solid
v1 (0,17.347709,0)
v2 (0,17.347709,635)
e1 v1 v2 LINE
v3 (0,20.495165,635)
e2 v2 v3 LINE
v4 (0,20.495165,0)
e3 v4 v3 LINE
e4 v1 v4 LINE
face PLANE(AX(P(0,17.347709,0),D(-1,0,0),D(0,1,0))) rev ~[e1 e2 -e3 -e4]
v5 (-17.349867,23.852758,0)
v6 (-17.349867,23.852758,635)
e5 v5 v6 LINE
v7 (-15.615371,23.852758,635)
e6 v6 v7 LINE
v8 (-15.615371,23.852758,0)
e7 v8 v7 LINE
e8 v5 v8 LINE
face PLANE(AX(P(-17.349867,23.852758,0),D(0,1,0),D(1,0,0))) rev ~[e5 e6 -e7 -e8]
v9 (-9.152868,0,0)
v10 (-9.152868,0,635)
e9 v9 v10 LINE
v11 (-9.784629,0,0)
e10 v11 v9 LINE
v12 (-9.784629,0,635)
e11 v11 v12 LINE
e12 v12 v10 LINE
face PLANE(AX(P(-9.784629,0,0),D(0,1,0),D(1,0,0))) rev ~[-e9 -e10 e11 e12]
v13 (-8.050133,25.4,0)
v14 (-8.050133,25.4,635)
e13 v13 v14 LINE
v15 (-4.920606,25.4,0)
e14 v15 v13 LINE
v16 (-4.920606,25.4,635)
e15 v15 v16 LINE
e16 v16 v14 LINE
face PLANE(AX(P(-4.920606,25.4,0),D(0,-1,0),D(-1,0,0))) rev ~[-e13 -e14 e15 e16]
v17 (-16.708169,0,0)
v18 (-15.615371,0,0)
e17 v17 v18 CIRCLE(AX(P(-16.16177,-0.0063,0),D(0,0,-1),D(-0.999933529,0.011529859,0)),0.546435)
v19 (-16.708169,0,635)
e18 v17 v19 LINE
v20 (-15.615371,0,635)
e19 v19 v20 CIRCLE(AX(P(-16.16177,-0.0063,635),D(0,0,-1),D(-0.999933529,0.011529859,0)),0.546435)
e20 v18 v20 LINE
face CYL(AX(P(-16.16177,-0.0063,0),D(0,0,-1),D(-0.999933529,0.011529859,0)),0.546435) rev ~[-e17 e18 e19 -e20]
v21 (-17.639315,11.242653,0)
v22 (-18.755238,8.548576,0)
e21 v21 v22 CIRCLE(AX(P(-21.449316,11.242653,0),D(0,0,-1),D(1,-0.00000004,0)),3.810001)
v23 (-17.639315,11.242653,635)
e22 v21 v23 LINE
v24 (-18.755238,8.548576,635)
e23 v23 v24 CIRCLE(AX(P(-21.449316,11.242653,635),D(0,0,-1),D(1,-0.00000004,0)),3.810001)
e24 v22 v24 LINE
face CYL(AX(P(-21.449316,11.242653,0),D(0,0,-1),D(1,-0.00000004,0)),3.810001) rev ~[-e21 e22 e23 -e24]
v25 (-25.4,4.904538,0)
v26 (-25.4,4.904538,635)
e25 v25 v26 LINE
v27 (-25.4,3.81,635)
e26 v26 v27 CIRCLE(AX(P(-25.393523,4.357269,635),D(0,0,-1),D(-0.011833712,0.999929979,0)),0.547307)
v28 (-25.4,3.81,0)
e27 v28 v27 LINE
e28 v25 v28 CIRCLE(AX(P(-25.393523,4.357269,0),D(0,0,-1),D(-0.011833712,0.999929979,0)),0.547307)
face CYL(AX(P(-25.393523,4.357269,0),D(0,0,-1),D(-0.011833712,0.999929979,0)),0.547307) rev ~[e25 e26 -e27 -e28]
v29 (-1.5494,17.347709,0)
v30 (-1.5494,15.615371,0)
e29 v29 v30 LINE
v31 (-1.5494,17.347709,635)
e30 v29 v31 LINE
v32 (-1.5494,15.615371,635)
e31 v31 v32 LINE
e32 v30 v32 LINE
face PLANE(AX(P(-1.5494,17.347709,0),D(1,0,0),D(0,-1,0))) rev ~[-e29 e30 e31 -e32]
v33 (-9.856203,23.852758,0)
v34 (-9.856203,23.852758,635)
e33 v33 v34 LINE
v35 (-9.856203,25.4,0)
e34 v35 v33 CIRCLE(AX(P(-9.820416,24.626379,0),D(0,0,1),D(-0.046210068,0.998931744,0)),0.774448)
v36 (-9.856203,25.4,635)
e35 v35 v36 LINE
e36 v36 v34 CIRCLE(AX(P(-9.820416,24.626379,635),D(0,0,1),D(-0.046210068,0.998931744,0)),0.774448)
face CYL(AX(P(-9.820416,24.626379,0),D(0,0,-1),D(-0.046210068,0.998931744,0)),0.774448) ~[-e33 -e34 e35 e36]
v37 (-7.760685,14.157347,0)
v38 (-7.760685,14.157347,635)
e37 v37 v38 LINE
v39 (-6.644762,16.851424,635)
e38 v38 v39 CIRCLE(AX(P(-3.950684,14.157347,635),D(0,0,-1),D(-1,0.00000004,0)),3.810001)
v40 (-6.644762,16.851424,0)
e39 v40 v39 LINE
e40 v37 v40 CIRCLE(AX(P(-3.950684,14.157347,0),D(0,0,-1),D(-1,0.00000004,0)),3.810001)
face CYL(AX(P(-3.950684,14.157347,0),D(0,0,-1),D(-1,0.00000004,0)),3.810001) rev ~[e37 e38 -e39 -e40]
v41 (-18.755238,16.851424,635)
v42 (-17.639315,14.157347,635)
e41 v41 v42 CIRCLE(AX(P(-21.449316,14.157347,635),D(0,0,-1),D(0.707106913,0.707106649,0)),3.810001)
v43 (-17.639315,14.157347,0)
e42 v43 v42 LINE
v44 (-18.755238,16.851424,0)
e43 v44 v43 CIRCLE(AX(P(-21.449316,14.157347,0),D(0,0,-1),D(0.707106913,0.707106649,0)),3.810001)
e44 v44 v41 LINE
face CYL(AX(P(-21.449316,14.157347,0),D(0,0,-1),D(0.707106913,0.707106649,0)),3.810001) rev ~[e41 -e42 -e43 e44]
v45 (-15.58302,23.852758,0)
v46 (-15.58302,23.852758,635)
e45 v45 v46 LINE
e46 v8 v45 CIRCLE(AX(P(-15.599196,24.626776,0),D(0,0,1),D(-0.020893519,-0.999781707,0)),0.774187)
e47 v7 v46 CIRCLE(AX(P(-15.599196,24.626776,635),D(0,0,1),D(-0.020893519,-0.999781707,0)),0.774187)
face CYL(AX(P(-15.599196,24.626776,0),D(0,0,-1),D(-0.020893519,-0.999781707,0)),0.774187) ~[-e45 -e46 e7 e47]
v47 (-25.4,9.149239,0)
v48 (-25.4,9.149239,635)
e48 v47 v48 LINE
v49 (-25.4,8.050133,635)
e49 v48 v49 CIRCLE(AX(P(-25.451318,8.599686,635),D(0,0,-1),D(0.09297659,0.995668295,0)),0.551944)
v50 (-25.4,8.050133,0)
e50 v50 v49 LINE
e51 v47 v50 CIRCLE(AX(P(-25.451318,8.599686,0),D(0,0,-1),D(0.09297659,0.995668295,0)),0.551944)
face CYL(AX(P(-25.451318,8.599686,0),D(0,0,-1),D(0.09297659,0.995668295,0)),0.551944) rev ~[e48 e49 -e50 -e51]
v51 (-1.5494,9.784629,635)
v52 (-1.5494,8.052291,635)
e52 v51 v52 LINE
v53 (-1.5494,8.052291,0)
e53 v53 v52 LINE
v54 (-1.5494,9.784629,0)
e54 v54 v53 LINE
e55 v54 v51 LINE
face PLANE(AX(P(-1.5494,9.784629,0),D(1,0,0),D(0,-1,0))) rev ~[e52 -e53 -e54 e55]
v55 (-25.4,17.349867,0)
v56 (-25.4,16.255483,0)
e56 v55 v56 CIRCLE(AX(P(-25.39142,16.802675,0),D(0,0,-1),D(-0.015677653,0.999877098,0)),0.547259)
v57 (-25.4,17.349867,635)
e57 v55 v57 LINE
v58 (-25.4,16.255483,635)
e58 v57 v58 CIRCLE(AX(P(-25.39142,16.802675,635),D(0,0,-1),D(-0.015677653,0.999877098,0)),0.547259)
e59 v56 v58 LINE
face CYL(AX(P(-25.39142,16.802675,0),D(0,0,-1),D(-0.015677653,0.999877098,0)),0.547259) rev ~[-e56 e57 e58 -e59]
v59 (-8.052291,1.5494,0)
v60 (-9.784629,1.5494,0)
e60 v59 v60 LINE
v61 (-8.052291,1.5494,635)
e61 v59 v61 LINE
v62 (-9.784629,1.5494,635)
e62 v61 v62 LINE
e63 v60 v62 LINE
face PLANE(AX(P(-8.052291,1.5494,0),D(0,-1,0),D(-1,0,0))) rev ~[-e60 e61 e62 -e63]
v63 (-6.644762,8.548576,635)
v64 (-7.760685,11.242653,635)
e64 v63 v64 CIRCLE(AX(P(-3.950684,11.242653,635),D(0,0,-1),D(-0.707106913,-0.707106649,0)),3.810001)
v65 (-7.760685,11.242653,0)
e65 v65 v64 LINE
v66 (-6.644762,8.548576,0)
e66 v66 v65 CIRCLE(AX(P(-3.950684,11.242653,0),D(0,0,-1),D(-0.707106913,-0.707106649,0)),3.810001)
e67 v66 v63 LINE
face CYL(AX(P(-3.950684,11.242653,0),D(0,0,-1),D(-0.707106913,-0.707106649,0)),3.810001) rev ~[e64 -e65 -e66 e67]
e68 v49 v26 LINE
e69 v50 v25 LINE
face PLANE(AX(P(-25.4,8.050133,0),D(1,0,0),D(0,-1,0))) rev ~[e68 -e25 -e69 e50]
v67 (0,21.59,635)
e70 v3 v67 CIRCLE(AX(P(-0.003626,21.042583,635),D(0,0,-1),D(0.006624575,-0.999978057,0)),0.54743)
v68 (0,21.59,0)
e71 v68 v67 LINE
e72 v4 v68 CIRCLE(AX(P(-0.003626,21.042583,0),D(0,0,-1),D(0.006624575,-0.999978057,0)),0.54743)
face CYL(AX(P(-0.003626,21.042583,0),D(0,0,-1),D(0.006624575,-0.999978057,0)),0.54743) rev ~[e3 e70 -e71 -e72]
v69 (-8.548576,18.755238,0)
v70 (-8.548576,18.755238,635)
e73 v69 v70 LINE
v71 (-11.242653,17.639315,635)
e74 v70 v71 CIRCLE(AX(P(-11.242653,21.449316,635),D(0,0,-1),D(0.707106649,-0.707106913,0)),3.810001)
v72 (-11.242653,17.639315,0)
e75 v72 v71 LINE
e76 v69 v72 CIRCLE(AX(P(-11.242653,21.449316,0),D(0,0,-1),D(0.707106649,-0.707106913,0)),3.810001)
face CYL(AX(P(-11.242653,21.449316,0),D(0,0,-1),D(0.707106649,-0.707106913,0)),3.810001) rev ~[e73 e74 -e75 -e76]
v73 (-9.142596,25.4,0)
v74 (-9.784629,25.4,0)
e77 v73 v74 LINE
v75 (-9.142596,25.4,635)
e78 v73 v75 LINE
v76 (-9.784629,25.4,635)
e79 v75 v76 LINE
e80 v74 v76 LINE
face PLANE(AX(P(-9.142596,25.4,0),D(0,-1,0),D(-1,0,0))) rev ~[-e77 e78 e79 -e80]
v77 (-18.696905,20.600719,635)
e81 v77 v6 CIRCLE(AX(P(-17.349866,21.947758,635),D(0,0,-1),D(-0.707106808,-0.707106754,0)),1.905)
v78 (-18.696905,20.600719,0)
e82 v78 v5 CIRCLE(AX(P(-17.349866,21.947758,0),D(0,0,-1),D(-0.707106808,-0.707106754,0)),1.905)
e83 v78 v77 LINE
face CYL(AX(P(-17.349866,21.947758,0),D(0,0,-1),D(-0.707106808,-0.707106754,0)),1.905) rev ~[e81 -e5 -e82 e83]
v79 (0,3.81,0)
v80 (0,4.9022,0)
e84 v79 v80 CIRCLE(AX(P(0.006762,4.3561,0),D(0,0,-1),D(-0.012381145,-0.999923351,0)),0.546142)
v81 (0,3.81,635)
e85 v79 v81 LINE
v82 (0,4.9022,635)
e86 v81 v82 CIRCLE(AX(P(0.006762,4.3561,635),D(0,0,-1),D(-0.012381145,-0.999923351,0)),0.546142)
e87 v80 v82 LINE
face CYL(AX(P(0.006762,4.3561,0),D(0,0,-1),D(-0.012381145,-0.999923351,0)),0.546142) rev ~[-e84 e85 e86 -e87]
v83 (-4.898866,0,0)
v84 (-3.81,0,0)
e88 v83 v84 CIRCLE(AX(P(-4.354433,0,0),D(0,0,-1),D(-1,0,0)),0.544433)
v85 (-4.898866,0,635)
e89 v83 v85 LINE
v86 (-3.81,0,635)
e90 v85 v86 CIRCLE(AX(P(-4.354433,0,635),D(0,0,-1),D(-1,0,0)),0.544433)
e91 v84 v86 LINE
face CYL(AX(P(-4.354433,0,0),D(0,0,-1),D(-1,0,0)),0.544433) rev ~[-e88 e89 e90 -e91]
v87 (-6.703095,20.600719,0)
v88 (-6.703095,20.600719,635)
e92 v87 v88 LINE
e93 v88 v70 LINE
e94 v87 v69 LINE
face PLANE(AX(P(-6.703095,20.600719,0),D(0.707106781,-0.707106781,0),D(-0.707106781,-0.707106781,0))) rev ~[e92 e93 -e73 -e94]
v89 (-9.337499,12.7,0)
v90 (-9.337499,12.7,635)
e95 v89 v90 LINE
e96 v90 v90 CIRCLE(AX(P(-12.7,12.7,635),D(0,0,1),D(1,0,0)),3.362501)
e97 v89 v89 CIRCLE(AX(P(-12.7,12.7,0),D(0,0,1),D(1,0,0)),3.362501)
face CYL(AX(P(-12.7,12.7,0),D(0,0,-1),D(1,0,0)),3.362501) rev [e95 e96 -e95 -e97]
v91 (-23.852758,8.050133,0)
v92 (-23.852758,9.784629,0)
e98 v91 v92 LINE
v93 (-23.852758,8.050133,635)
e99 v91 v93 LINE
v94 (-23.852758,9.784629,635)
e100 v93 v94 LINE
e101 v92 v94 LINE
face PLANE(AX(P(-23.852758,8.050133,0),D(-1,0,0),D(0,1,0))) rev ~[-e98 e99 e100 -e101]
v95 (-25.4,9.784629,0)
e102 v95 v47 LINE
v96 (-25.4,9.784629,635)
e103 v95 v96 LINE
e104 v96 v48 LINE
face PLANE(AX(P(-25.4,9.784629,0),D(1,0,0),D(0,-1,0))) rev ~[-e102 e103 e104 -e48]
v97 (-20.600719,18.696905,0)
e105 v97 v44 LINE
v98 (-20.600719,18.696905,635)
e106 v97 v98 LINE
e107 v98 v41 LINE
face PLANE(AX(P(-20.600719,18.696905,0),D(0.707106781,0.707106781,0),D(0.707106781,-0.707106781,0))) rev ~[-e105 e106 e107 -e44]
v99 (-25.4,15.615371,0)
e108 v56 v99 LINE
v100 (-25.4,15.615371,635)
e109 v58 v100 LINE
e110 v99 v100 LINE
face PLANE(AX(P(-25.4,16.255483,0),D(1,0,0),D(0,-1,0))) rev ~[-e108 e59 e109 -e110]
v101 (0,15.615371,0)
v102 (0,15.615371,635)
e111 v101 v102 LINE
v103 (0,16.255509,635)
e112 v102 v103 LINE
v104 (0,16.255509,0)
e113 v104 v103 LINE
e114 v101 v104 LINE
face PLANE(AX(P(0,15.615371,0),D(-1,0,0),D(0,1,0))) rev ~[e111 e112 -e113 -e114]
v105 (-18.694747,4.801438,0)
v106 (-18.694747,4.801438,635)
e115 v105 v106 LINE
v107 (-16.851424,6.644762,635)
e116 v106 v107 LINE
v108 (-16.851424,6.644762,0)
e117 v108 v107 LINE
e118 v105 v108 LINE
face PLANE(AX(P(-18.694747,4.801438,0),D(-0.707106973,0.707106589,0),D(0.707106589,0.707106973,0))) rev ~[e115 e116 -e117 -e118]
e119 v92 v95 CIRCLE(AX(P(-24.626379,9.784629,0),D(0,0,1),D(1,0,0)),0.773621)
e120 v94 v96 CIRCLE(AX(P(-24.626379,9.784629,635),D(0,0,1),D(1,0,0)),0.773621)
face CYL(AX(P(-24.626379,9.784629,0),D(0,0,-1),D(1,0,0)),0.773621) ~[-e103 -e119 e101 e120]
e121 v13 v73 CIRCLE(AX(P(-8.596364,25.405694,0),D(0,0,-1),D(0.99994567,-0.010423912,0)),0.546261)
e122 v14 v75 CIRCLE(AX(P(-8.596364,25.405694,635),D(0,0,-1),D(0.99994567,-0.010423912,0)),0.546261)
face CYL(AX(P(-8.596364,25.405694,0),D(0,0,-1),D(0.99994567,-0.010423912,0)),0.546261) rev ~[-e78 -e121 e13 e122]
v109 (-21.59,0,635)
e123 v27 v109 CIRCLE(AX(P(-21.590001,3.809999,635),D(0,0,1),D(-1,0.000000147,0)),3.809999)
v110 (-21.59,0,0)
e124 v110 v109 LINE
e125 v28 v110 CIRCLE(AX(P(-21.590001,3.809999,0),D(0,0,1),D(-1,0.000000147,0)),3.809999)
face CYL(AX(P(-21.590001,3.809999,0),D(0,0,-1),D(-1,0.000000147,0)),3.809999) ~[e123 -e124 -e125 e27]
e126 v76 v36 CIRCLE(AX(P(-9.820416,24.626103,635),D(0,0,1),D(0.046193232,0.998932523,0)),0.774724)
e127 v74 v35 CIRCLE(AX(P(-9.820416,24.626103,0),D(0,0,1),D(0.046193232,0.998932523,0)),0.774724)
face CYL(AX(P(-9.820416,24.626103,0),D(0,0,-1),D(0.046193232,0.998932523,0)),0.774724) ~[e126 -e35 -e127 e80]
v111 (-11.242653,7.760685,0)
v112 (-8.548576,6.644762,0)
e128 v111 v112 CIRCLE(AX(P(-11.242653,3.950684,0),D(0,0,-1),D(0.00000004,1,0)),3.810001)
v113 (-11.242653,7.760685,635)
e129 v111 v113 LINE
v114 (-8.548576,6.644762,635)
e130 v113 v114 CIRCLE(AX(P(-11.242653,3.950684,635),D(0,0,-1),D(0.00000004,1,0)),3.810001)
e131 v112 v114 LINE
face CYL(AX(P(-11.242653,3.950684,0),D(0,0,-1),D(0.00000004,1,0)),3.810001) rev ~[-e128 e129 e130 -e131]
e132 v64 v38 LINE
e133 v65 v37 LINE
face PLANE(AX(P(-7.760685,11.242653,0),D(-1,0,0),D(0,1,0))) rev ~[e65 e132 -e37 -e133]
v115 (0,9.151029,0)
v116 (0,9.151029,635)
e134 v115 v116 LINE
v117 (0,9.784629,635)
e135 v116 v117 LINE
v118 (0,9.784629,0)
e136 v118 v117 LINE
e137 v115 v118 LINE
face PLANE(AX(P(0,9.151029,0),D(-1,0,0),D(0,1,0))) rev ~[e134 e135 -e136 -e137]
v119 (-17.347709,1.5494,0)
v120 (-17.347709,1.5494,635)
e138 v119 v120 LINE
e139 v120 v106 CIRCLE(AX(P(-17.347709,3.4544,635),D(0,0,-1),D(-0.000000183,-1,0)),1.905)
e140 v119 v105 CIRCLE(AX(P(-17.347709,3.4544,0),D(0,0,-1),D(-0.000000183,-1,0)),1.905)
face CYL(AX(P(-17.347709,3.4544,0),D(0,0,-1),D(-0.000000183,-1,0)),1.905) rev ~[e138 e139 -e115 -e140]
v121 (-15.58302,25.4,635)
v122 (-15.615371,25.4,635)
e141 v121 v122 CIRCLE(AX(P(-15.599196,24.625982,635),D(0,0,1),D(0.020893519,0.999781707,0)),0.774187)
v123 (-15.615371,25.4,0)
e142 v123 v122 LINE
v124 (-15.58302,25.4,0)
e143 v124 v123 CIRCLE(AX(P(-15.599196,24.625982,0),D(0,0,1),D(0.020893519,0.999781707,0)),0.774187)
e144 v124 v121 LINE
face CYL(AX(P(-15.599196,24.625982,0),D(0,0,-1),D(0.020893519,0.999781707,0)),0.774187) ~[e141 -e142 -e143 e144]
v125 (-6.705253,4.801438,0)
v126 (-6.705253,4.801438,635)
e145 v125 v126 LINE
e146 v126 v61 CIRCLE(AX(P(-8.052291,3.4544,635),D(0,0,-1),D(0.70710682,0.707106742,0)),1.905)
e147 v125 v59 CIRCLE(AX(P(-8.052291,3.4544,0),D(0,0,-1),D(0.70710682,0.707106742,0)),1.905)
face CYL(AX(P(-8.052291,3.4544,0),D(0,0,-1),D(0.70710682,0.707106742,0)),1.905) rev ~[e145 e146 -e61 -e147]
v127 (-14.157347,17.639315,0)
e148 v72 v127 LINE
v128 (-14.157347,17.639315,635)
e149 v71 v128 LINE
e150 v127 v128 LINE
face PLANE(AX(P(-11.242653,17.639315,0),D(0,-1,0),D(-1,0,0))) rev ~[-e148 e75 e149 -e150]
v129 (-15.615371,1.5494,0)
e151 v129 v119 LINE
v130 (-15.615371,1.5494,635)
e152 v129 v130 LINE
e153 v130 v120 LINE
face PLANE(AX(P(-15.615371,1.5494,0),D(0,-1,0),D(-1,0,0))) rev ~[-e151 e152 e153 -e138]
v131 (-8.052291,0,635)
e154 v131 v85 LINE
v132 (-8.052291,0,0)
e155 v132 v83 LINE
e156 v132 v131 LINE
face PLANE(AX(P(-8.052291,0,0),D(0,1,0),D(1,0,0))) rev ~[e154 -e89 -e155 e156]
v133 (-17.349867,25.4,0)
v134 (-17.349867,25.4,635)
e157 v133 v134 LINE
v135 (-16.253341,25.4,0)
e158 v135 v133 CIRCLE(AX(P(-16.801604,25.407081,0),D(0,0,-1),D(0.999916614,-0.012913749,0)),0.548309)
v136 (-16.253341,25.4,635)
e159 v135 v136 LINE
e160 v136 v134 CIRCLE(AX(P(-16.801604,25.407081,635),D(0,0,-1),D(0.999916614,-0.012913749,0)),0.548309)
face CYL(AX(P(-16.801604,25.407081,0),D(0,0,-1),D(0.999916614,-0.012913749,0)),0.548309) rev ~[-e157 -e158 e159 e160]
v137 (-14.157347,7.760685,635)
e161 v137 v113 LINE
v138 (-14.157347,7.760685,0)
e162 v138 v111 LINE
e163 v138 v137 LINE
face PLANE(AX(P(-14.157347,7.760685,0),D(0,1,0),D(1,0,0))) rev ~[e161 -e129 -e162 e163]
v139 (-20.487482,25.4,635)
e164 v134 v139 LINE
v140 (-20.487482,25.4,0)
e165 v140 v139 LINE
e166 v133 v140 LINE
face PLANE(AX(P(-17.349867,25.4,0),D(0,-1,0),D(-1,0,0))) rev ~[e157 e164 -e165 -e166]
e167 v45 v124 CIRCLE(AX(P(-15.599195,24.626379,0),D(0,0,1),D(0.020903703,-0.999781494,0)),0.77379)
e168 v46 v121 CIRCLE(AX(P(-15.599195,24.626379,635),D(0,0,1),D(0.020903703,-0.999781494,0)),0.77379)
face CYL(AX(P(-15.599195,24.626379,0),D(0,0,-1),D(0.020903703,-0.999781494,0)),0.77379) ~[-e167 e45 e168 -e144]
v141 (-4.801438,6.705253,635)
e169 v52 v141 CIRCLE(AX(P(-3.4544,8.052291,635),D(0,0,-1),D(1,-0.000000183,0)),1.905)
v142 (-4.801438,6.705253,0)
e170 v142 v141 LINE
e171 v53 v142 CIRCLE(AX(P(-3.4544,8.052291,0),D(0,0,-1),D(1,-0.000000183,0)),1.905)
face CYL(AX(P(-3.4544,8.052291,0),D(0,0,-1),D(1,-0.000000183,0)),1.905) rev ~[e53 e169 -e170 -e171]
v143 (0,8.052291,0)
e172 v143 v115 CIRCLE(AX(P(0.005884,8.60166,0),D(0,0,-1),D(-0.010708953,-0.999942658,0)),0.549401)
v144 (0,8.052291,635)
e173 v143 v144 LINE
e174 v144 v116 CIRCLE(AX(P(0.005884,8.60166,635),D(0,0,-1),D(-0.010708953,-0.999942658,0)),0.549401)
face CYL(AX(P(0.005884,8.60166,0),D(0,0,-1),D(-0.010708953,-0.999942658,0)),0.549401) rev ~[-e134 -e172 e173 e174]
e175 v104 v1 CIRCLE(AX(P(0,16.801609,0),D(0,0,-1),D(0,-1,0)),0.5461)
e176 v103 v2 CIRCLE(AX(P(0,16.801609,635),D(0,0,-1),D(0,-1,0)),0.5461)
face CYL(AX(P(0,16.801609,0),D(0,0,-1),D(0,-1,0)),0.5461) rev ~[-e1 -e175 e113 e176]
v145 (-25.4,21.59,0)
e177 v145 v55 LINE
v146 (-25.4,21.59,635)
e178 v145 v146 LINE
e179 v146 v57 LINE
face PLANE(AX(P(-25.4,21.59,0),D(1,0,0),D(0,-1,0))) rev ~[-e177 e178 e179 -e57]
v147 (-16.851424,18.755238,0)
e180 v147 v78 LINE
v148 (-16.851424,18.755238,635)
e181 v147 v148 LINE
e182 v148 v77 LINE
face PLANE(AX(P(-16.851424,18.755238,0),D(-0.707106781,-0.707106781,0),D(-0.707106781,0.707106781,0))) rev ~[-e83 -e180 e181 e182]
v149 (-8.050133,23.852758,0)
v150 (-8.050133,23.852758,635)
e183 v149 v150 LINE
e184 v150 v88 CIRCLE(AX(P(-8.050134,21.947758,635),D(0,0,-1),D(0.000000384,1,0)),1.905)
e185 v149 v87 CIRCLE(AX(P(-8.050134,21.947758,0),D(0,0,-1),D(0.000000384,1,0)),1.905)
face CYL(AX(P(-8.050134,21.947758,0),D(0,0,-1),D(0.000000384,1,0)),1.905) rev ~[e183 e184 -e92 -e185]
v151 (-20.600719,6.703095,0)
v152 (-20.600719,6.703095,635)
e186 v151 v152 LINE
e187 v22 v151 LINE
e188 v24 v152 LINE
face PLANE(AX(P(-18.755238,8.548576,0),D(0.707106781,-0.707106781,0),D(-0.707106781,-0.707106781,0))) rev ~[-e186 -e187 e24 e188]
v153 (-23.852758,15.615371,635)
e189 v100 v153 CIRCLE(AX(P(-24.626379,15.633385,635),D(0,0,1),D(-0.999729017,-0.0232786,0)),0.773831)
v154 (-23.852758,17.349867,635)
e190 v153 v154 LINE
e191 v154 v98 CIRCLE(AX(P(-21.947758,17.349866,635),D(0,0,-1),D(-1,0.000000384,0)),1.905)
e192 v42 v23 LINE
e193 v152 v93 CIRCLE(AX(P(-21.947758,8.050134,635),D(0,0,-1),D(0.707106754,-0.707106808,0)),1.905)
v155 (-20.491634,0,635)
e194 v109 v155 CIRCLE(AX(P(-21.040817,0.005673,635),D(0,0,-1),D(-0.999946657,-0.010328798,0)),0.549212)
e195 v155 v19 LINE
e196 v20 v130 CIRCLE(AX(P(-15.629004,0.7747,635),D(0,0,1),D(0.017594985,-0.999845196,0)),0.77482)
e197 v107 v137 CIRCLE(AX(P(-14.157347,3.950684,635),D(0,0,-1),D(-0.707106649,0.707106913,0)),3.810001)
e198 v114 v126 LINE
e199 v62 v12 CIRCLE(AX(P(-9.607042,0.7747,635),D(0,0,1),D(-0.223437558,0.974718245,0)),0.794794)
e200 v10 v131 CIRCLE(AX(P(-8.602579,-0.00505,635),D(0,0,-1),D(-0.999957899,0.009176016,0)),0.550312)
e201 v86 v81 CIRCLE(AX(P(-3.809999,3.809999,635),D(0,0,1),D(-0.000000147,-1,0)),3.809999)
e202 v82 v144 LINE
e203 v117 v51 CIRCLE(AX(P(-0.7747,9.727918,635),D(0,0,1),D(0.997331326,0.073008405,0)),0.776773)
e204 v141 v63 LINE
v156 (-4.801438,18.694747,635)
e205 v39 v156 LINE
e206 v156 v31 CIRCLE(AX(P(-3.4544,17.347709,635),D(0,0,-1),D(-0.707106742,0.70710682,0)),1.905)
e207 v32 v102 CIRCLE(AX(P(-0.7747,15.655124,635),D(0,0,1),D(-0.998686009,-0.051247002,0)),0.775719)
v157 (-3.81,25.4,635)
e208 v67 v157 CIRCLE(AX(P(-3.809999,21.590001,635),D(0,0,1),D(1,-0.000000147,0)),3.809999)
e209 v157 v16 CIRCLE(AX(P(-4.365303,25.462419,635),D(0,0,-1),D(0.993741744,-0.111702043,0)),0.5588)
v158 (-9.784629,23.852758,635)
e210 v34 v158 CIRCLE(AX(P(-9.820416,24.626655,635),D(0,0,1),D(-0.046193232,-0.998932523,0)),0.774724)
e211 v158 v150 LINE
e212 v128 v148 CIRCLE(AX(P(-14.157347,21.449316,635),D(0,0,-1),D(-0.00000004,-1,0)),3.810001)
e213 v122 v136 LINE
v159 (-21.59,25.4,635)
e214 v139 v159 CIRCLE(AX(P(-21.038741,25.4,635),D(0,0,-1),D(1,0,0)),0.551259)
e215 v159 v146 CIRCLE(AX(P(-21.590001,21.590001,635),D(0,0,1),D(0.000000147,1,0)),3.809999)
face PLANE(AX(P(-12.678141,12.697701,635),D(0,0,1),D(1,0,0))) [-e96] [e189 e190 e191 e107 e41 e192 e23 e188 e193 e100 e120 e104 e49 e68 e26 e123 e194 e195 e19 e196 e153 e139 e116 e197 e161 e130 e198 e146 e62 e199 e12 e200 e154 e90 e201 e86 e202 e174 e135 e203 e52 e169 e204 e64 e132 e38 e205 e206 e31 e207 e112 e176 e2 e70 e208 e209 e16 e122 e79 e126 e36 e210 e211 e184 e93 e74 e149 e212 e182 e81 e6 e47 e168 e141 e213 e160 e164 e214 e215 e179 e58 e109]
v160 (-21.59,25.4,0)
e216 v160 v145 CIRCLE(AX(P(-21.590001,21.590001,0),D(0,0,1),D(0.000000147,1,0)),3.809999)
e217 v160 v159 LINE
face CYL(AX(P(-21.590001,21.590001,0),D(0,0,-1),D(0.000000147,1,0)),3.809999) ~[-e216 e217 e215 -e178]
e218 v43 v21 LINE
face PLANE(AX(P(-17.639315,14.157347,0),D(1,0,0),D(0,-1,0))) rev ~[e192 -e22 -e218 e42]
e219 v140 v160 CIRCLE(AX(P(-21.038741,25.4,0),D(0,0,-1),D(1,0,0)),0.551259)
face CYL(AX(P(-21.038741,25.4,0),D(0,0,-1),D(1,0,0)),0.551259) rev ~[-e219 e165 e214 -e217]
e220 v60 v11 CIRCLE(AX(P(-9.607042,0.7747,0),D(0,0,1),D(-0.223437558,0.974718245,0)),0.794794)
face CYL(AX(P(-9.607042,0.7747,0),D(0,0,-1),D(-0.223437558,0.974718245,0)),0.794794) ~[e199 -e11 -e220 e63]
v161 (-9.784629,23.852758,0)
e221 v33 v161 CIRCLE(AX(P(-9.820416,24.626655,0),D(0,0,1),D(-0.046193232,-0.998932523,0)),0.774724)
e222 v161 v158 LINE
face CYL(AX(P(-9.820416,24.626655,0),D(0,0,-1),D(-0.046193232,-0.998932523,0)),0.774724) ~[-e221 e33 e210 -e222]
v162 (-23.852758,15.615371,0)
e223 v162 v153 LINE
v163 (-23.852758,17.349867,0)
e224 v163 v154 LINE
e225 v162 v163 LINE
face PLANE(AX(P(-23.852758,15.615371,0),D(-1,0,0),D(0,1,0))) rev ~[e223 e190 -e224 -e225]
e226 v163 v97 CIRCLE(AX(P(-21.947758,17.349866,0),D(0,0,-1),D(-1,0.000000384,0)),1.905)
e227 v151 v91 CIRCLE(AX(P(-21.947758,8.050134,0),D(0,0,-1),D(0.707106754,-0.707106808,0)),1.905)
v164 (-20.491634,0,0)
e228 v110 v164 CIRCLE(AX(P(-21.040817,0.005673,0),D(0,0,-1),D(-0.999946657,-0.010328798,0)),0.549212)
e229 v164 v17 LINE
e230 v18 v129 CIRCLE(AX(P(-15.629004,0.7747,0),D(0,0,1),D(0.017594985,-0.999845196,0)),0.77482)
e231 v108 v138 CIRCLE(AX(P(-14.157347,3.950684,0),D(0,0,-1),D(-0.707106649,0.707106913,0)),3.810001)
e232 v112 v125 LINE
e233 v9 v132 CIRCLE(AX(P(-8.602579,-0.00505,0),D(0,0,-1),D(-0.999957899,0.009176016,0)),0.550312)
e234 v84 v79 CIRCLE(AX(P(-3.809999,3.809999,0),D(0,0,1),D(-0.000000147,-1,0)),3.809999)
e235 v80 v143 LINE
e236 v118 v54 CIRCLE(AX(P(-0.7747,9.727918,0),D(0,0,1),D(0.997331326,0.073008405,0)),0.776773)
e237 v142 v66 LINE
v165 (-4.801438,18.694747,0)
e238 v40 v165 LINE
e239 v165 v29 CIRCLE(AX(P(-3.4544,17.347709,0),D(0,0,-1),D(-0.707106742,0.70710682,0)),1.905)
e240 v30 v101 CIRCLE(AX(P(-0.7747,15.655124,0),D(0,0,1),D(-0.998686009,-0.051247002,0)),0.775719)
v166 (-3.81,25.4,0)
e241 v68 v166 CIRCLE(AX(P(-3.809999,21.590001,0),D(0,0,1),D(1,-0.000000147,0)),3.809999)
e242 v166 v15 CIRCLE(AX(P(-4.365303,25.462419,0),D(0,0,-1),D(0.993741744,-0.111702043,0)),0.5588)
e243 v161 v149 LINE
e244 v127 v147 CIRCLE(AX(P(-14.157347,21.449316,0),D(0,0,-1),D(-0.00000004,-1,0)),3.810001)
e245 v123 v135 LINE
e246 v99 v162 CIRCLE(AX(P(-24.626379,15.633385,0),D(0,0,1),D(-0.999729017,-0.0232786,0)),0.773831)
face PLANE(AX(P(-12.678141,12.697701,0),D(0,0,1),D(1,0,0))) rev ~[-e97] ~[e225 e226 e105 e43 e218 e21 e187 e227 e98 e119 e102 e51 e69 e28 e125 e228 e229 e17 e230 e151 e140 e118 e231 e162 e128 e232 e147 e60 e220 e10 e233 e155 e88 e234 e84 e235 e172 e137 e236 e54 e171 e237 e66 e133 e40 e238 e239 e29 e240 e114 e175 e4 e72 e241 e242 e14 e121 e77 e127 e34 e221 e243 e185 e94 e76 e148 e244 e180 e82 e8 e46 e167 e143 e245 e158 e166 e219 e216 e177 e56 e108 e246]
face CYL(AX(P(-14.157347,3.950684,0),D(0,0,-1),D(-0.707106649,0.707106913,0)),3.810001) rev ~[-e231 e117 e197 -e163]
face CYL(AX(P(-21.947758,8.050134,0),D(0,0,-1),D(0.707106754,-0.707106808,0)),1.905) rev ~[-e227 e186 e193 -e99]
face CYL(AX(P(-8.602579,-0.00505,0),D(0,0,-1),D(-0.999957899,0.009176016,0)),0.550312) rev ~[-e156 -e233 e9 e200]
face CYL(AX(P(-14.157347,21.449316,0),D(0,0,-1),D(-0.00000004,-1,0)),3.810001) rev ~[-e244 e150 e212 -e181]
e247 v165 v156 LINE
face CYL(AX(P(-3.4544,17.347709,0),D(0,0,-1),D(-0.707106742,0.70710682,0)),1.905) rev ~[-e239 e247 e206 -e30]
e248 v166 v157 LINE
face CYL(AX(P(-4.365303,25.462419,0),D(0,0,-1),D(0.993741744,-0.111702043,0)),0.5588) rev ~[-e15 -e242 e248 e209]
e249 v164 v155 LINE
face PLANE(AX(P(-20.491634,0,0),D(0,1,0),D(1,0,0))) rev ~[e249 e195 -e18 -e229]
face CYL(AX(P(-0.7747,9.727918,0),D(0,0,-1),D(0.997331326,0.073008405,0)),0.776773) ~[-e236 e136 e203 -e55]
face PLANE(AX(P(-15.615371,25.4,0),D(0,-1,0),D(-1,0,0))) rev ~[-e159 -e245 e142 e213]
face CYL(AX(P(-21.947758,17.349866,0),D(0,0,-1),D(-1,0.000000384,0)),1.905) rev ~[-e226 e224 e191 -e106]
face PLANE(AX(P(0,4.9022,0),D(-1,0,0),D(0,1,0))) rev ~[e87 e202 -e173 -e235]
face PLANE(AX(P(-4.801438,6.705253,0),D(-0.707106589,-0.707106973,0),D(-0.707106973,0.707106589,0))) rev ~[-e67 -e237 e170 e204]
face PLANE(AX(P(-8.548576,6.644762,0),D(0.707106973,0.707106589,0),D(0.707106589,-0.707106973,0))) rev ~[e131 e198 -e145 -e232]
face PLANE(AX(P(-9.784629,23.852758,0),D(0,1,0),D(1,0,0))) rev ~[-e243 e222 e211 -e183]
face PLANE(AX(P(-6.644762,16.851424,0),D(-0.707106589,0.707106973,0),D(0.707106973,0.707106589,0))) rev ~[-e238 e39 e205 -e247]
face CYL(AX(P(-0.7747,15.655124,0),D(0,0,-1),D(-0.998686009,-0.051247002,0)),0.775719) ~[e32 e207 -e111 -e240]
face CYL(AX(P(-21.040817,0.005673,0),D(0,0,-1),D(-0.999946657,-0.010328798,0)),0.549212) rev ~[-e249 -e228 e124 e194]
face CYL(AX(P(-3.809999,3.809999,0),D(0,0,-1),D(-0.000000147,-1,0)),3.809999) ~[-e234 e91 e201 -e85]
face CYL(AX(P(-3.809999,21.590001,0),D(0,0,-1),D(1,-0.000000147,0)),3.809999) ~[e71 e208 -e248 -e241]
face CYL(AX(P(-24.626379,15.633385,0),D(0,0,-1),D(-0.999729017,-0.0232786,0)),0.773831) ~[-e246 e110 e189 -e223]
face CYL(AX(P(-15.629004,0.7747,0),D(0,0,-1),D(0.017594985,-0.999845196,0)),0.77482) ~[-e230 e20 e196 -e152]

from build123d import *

# Parameters (mm, degrees)
F0_R     = 3.362501
F1_DEPTH = 635


with BuildPart() as f1:
    # F0 (on Top) → F1 (new body)
    with BuildSketch(Plane.XY):
        with BuildLine():
            ThreePointArc((-8.548576, 18.755238), (-9.784629, 17.929334), (-11.242653, 17.639315))
            Line((-11.242653, 17.639315), (-14.157347, 17.639315))
            ThreePointArc((-14.157347, 17.639315), (-15.615371, 17.929334), (-16.851424, 18.755238))
            Line((-16.851424, 18.755238), (-18.696905, 20.600719))
            ThreePointArc((-18.696905, 20.600719), (-19.109857, 22.67677), (-17.349867, 23.852758))
            Line((-17.349867, 23.852758), (-15.615371, 23.852758))
            Line((-15.615371, 23.852758), (-15.58302, 23.852758))
            ThreePointArc((-15.58302, 23.852758), (-14.825405, 24.626379), (-15.58302, 25.4))
            Line((-15.58302, 25.4), (-15.615371, 25.4))
            Line((-15.615371, 25.4), (-16.253341, 25.4))
            ThreePointArc((-16.253341, 25.4), (-16.801604, 24.858772), (-17.349867, 25.4))
            Line((-17.349867, 25.4), (-20.487482, 25.4))
            ThreePointArc((-20.487482, 25.4), (-21.038741, 24.848741), (-21.59, 25.4))
            ThreePointArc((-21.59, 25.4), (-24.284077, 24.284077), (-25.4, 21.59))
            Line((-25.4, 21.59), (-25.4, 20.504724))
            Line((-25.4, 20.504724), (-25.4, 17.349867))
            ThreePointArc((-25.4, 17.349867), (-24.844161, 16.802675), (-25.4, 16.255483))
            Line((-25.4, 16.255483), (-25.4, 15.615371))
            ThreePointArc((-25.4, 15.615371), (-24.626379, 14.859554), (-23.852758, 15.615371))
            Line((-23.852758, 15.615371), (-23.852758, 17.349867))
            ThreePointArc((-23.852758, 17.349867), (-22.67677, 19.109857), (-20.600719, 18.696905))
            Line((-20.600719, 18.696905), (-18.755238, 16.851424))
            ThreePointArc((-18.755238, 16.851424), (-17.929334, 15.615371), (-17.639315, 14.157347))
            Line((-17.639315, 14.157347), (-17.639315, 11.242653))
            ThreePointArc((-17.639315, 11.242653), (-17.929334, 9.784629), (-18.755238, 8.548576))
            Line((-18.755238, 8.548576), (-20.600719, 6.703095))
            ThreePointArc((-20.600719, 6.703095), (-22.67677, 6.290143), (-23.852758, 8.050133))
            Line((-23.852758, 8.050133), (-23.852758, 9.784629))
            ThreePointArc((-23.852758, 9.784629), (-24.626379, 10.55825), (-25.4, 9.784629))
            Line((-25.4, 9.784629), (-25.4, 9.149239))
            ThreePointArc((-25.4, 9.149239), (-24.899374, 8.599686), (-25.4, 8.050133))
            Line((-25.4, 8.050133), (-25.4, 4.904538))
            ThreePointArc((-25.4, 4.904538), (-24.846216, 4.357269), (-25.4, 3.81))
            ThreePointArc((-25.4, 3.81), (-24.284077, 1.115923), (-21.59, 0))
            ThreePointArc((-21.59, 0), (-21.040817, 0.554885), (-20.491634, 0))
            Line((-20.491634, 0), (-16.708169, 0))
            ThreePointArc((-16.708169, 0), (-16.16177, 0.540135), (-15.615371, 0))
            ThreePointArc((-15.615371, 0), (-14.854184, 0.7747), (-15.615371, 1.5494))
            Line((-15.615371, 1.5494), (-17.347709, 1.5494))
            ThreePointArc((-17.347709, 1.5494), (-19.107699, 2.725388), (-18.694747, 4.801438))
            Line((-18.694747, 4.801438), (-16.851424, 6.644762))
            ThreePointArc((-16.851424, 6.644762), (-15.615371, 7.470666), (-14.157347, 7.760685))
            Line((-14.157347, 7.760685), (-11.242653, 7.760685))
            ThreePointArc((-11.242653, 7.760685), (-9.784629, 7.470666), (-8.548576, 6.644762))
            Line((-8.548576, 6.644762), (-6.705253, 4.801438))
            ThreePointArc((-6.705253, 4.801438), (-6.292301, 2.725388), (-8.052291, 1.5494))
            Line((-8.052291, 1.5494), (-9.784629, 1.5494))
            ThreePointArc((-9.784629, 1.5494), (-10.401836, 0.7747), (-9.784629, 0))
            Line((-9.784629, 0), (-9.152868, 0))
            ThreePointArc((-9.152868, 0), (-8.602579, 0.545262), (-8.052291, 0))
            Line((-8.052291, 0), (-4.898866, 0))
            ThreePointArc((-4.898866, 0), (-4.354433, 0.544433), (-3.81, 0))
            ThreePointArc((-3.81, 0), (-1.115923, 1.115923), (0, 3.81))
            ThreePointArc((0, 3.81), (-0.53938, 4.3561), (0, 4.9022))
            Line((0, 4.9022), (0, 8.052291))
            ThreePointArc((0, 8.052291), (-0.543517, 8.60166), (0, 9.151029))
            Line((0, 9.151029), (0, 9.784629))
            ThreePointArc((0, 9.784629), (-0.7747, 10.504691), (-1.5494, 9.784629))
            Line((-1.5494, 9.784629), (-1.5494, 8.052291))
            ThreePointArc((-1.5494, 8.052291), (-2.725388, 6.292301), (-4.801438, 6.705253))
            Line((-4.801438, 6.705253), (-6.644762, 8.548576))
            ThreePointArc((-6.644762, 8.548576), (-7.470666, 9.784629), (-7.760685, 11.242653))
            Line((-7.760685, 11.242653), (-7.760685, 14.157347))
            ThreePointArc((-7.760685, 14.157347), (-7.470666, 15.615371), (-6.644762, 16.851424))
            Line((-6.644762, 16.851424), (-4.801438, 18.694747))
            ThreePointArc((-4.801438, 18.694747), (-2.725388, 19.107699), (-1.5494, 17.347709))
            Line((-1.5494, 17.347709), (-1.5494, 15.615371))
            ThreePointArc((-1.5494, 15.615371), (-0.7747, 14.879405), (0, 15.615371))
            Line((0, 15.615371), (0, 16.255509))
            ThreePointArc((0, 16.255509), (-0.5461, 16.801609), (0, 17.347709))
            Line((0, 17.347709), (0, 20.495165))
            ThreePointArc((0, 20.495165), (-0.551056, 21.042583), (0, 21.59))
            ThreePointArc((0, 21.59), (-1.115923, 24.284077), (-3.81, 25.4))
            ThreePointArc((-3.81, 25.4), (-4.365303, 24.903619), (-4.920606, 25.4))
            Line((-4.920606, 25.4), (-8.050133, 25.4))
            ThreePointArc((-8.050133, 25.4), (-8.596365, 24.859433), (-9.142596, 25.4))
            Line((-9.142596, 25.4), (-9.784629, 25.4))
            Line((-9.784629, 25.4), (-9.856203, 25.4))
            ThreePointArc((-9.856203, 25.4), (-10.594864, 24.626379), (-9.856203, 23.852758))
            Line((-9.856203, 23.852758), (-9.784629, 23.852758))
            Line((-9.784629, 23.852758), (-8.050133, 23.852758))
            ThreePointArc((-8.050133, 23.852758), (-6.290143, 22.67677), (-6.703095, 20.600719))
            Line((-6.703095, 20.600719), (-8.548576, 18.755238))
        make_face()
        with Locations((-12.7, 12.7)):
            Circle(F0_R, mode=Mode.SUBTRACT)
        with BuildLine():
            ThreePointArc((-9.856203, 23.852758), (-9.820416, 23.851931), (-9.784629, 23.852758))
            Line((-9.784629, 23.852758), (-9.856203, 23.852758))
        make_face()
        with BuildLine():
            Line((-15.58302, 23.852758), (-15.615371, 23.852758))
            ThreePointArc((-15.615371, 23.852758), (-15.599195, 23.852589), (-15.58302, 23.852758))
        make_face()
        with BuildLine():
            ThreePointArc((-9.784629, 25.4), (-9.820416, 25.400827), (-9.856203, 25.4))
            Line((-9.856203, 25.4), (-9.784629, 25.4))
        make_face()
        with BuildLine():
            Line((-15.615371, 25.4), (-15.58302, 25.4))
            ThreePointArc((-15.58302, 25.4), (-15.599195, 25.400169), (-15.615371, 25.4))
        make_face()
    extrude(amount=F1_DEPTH)


solid = f1.part
